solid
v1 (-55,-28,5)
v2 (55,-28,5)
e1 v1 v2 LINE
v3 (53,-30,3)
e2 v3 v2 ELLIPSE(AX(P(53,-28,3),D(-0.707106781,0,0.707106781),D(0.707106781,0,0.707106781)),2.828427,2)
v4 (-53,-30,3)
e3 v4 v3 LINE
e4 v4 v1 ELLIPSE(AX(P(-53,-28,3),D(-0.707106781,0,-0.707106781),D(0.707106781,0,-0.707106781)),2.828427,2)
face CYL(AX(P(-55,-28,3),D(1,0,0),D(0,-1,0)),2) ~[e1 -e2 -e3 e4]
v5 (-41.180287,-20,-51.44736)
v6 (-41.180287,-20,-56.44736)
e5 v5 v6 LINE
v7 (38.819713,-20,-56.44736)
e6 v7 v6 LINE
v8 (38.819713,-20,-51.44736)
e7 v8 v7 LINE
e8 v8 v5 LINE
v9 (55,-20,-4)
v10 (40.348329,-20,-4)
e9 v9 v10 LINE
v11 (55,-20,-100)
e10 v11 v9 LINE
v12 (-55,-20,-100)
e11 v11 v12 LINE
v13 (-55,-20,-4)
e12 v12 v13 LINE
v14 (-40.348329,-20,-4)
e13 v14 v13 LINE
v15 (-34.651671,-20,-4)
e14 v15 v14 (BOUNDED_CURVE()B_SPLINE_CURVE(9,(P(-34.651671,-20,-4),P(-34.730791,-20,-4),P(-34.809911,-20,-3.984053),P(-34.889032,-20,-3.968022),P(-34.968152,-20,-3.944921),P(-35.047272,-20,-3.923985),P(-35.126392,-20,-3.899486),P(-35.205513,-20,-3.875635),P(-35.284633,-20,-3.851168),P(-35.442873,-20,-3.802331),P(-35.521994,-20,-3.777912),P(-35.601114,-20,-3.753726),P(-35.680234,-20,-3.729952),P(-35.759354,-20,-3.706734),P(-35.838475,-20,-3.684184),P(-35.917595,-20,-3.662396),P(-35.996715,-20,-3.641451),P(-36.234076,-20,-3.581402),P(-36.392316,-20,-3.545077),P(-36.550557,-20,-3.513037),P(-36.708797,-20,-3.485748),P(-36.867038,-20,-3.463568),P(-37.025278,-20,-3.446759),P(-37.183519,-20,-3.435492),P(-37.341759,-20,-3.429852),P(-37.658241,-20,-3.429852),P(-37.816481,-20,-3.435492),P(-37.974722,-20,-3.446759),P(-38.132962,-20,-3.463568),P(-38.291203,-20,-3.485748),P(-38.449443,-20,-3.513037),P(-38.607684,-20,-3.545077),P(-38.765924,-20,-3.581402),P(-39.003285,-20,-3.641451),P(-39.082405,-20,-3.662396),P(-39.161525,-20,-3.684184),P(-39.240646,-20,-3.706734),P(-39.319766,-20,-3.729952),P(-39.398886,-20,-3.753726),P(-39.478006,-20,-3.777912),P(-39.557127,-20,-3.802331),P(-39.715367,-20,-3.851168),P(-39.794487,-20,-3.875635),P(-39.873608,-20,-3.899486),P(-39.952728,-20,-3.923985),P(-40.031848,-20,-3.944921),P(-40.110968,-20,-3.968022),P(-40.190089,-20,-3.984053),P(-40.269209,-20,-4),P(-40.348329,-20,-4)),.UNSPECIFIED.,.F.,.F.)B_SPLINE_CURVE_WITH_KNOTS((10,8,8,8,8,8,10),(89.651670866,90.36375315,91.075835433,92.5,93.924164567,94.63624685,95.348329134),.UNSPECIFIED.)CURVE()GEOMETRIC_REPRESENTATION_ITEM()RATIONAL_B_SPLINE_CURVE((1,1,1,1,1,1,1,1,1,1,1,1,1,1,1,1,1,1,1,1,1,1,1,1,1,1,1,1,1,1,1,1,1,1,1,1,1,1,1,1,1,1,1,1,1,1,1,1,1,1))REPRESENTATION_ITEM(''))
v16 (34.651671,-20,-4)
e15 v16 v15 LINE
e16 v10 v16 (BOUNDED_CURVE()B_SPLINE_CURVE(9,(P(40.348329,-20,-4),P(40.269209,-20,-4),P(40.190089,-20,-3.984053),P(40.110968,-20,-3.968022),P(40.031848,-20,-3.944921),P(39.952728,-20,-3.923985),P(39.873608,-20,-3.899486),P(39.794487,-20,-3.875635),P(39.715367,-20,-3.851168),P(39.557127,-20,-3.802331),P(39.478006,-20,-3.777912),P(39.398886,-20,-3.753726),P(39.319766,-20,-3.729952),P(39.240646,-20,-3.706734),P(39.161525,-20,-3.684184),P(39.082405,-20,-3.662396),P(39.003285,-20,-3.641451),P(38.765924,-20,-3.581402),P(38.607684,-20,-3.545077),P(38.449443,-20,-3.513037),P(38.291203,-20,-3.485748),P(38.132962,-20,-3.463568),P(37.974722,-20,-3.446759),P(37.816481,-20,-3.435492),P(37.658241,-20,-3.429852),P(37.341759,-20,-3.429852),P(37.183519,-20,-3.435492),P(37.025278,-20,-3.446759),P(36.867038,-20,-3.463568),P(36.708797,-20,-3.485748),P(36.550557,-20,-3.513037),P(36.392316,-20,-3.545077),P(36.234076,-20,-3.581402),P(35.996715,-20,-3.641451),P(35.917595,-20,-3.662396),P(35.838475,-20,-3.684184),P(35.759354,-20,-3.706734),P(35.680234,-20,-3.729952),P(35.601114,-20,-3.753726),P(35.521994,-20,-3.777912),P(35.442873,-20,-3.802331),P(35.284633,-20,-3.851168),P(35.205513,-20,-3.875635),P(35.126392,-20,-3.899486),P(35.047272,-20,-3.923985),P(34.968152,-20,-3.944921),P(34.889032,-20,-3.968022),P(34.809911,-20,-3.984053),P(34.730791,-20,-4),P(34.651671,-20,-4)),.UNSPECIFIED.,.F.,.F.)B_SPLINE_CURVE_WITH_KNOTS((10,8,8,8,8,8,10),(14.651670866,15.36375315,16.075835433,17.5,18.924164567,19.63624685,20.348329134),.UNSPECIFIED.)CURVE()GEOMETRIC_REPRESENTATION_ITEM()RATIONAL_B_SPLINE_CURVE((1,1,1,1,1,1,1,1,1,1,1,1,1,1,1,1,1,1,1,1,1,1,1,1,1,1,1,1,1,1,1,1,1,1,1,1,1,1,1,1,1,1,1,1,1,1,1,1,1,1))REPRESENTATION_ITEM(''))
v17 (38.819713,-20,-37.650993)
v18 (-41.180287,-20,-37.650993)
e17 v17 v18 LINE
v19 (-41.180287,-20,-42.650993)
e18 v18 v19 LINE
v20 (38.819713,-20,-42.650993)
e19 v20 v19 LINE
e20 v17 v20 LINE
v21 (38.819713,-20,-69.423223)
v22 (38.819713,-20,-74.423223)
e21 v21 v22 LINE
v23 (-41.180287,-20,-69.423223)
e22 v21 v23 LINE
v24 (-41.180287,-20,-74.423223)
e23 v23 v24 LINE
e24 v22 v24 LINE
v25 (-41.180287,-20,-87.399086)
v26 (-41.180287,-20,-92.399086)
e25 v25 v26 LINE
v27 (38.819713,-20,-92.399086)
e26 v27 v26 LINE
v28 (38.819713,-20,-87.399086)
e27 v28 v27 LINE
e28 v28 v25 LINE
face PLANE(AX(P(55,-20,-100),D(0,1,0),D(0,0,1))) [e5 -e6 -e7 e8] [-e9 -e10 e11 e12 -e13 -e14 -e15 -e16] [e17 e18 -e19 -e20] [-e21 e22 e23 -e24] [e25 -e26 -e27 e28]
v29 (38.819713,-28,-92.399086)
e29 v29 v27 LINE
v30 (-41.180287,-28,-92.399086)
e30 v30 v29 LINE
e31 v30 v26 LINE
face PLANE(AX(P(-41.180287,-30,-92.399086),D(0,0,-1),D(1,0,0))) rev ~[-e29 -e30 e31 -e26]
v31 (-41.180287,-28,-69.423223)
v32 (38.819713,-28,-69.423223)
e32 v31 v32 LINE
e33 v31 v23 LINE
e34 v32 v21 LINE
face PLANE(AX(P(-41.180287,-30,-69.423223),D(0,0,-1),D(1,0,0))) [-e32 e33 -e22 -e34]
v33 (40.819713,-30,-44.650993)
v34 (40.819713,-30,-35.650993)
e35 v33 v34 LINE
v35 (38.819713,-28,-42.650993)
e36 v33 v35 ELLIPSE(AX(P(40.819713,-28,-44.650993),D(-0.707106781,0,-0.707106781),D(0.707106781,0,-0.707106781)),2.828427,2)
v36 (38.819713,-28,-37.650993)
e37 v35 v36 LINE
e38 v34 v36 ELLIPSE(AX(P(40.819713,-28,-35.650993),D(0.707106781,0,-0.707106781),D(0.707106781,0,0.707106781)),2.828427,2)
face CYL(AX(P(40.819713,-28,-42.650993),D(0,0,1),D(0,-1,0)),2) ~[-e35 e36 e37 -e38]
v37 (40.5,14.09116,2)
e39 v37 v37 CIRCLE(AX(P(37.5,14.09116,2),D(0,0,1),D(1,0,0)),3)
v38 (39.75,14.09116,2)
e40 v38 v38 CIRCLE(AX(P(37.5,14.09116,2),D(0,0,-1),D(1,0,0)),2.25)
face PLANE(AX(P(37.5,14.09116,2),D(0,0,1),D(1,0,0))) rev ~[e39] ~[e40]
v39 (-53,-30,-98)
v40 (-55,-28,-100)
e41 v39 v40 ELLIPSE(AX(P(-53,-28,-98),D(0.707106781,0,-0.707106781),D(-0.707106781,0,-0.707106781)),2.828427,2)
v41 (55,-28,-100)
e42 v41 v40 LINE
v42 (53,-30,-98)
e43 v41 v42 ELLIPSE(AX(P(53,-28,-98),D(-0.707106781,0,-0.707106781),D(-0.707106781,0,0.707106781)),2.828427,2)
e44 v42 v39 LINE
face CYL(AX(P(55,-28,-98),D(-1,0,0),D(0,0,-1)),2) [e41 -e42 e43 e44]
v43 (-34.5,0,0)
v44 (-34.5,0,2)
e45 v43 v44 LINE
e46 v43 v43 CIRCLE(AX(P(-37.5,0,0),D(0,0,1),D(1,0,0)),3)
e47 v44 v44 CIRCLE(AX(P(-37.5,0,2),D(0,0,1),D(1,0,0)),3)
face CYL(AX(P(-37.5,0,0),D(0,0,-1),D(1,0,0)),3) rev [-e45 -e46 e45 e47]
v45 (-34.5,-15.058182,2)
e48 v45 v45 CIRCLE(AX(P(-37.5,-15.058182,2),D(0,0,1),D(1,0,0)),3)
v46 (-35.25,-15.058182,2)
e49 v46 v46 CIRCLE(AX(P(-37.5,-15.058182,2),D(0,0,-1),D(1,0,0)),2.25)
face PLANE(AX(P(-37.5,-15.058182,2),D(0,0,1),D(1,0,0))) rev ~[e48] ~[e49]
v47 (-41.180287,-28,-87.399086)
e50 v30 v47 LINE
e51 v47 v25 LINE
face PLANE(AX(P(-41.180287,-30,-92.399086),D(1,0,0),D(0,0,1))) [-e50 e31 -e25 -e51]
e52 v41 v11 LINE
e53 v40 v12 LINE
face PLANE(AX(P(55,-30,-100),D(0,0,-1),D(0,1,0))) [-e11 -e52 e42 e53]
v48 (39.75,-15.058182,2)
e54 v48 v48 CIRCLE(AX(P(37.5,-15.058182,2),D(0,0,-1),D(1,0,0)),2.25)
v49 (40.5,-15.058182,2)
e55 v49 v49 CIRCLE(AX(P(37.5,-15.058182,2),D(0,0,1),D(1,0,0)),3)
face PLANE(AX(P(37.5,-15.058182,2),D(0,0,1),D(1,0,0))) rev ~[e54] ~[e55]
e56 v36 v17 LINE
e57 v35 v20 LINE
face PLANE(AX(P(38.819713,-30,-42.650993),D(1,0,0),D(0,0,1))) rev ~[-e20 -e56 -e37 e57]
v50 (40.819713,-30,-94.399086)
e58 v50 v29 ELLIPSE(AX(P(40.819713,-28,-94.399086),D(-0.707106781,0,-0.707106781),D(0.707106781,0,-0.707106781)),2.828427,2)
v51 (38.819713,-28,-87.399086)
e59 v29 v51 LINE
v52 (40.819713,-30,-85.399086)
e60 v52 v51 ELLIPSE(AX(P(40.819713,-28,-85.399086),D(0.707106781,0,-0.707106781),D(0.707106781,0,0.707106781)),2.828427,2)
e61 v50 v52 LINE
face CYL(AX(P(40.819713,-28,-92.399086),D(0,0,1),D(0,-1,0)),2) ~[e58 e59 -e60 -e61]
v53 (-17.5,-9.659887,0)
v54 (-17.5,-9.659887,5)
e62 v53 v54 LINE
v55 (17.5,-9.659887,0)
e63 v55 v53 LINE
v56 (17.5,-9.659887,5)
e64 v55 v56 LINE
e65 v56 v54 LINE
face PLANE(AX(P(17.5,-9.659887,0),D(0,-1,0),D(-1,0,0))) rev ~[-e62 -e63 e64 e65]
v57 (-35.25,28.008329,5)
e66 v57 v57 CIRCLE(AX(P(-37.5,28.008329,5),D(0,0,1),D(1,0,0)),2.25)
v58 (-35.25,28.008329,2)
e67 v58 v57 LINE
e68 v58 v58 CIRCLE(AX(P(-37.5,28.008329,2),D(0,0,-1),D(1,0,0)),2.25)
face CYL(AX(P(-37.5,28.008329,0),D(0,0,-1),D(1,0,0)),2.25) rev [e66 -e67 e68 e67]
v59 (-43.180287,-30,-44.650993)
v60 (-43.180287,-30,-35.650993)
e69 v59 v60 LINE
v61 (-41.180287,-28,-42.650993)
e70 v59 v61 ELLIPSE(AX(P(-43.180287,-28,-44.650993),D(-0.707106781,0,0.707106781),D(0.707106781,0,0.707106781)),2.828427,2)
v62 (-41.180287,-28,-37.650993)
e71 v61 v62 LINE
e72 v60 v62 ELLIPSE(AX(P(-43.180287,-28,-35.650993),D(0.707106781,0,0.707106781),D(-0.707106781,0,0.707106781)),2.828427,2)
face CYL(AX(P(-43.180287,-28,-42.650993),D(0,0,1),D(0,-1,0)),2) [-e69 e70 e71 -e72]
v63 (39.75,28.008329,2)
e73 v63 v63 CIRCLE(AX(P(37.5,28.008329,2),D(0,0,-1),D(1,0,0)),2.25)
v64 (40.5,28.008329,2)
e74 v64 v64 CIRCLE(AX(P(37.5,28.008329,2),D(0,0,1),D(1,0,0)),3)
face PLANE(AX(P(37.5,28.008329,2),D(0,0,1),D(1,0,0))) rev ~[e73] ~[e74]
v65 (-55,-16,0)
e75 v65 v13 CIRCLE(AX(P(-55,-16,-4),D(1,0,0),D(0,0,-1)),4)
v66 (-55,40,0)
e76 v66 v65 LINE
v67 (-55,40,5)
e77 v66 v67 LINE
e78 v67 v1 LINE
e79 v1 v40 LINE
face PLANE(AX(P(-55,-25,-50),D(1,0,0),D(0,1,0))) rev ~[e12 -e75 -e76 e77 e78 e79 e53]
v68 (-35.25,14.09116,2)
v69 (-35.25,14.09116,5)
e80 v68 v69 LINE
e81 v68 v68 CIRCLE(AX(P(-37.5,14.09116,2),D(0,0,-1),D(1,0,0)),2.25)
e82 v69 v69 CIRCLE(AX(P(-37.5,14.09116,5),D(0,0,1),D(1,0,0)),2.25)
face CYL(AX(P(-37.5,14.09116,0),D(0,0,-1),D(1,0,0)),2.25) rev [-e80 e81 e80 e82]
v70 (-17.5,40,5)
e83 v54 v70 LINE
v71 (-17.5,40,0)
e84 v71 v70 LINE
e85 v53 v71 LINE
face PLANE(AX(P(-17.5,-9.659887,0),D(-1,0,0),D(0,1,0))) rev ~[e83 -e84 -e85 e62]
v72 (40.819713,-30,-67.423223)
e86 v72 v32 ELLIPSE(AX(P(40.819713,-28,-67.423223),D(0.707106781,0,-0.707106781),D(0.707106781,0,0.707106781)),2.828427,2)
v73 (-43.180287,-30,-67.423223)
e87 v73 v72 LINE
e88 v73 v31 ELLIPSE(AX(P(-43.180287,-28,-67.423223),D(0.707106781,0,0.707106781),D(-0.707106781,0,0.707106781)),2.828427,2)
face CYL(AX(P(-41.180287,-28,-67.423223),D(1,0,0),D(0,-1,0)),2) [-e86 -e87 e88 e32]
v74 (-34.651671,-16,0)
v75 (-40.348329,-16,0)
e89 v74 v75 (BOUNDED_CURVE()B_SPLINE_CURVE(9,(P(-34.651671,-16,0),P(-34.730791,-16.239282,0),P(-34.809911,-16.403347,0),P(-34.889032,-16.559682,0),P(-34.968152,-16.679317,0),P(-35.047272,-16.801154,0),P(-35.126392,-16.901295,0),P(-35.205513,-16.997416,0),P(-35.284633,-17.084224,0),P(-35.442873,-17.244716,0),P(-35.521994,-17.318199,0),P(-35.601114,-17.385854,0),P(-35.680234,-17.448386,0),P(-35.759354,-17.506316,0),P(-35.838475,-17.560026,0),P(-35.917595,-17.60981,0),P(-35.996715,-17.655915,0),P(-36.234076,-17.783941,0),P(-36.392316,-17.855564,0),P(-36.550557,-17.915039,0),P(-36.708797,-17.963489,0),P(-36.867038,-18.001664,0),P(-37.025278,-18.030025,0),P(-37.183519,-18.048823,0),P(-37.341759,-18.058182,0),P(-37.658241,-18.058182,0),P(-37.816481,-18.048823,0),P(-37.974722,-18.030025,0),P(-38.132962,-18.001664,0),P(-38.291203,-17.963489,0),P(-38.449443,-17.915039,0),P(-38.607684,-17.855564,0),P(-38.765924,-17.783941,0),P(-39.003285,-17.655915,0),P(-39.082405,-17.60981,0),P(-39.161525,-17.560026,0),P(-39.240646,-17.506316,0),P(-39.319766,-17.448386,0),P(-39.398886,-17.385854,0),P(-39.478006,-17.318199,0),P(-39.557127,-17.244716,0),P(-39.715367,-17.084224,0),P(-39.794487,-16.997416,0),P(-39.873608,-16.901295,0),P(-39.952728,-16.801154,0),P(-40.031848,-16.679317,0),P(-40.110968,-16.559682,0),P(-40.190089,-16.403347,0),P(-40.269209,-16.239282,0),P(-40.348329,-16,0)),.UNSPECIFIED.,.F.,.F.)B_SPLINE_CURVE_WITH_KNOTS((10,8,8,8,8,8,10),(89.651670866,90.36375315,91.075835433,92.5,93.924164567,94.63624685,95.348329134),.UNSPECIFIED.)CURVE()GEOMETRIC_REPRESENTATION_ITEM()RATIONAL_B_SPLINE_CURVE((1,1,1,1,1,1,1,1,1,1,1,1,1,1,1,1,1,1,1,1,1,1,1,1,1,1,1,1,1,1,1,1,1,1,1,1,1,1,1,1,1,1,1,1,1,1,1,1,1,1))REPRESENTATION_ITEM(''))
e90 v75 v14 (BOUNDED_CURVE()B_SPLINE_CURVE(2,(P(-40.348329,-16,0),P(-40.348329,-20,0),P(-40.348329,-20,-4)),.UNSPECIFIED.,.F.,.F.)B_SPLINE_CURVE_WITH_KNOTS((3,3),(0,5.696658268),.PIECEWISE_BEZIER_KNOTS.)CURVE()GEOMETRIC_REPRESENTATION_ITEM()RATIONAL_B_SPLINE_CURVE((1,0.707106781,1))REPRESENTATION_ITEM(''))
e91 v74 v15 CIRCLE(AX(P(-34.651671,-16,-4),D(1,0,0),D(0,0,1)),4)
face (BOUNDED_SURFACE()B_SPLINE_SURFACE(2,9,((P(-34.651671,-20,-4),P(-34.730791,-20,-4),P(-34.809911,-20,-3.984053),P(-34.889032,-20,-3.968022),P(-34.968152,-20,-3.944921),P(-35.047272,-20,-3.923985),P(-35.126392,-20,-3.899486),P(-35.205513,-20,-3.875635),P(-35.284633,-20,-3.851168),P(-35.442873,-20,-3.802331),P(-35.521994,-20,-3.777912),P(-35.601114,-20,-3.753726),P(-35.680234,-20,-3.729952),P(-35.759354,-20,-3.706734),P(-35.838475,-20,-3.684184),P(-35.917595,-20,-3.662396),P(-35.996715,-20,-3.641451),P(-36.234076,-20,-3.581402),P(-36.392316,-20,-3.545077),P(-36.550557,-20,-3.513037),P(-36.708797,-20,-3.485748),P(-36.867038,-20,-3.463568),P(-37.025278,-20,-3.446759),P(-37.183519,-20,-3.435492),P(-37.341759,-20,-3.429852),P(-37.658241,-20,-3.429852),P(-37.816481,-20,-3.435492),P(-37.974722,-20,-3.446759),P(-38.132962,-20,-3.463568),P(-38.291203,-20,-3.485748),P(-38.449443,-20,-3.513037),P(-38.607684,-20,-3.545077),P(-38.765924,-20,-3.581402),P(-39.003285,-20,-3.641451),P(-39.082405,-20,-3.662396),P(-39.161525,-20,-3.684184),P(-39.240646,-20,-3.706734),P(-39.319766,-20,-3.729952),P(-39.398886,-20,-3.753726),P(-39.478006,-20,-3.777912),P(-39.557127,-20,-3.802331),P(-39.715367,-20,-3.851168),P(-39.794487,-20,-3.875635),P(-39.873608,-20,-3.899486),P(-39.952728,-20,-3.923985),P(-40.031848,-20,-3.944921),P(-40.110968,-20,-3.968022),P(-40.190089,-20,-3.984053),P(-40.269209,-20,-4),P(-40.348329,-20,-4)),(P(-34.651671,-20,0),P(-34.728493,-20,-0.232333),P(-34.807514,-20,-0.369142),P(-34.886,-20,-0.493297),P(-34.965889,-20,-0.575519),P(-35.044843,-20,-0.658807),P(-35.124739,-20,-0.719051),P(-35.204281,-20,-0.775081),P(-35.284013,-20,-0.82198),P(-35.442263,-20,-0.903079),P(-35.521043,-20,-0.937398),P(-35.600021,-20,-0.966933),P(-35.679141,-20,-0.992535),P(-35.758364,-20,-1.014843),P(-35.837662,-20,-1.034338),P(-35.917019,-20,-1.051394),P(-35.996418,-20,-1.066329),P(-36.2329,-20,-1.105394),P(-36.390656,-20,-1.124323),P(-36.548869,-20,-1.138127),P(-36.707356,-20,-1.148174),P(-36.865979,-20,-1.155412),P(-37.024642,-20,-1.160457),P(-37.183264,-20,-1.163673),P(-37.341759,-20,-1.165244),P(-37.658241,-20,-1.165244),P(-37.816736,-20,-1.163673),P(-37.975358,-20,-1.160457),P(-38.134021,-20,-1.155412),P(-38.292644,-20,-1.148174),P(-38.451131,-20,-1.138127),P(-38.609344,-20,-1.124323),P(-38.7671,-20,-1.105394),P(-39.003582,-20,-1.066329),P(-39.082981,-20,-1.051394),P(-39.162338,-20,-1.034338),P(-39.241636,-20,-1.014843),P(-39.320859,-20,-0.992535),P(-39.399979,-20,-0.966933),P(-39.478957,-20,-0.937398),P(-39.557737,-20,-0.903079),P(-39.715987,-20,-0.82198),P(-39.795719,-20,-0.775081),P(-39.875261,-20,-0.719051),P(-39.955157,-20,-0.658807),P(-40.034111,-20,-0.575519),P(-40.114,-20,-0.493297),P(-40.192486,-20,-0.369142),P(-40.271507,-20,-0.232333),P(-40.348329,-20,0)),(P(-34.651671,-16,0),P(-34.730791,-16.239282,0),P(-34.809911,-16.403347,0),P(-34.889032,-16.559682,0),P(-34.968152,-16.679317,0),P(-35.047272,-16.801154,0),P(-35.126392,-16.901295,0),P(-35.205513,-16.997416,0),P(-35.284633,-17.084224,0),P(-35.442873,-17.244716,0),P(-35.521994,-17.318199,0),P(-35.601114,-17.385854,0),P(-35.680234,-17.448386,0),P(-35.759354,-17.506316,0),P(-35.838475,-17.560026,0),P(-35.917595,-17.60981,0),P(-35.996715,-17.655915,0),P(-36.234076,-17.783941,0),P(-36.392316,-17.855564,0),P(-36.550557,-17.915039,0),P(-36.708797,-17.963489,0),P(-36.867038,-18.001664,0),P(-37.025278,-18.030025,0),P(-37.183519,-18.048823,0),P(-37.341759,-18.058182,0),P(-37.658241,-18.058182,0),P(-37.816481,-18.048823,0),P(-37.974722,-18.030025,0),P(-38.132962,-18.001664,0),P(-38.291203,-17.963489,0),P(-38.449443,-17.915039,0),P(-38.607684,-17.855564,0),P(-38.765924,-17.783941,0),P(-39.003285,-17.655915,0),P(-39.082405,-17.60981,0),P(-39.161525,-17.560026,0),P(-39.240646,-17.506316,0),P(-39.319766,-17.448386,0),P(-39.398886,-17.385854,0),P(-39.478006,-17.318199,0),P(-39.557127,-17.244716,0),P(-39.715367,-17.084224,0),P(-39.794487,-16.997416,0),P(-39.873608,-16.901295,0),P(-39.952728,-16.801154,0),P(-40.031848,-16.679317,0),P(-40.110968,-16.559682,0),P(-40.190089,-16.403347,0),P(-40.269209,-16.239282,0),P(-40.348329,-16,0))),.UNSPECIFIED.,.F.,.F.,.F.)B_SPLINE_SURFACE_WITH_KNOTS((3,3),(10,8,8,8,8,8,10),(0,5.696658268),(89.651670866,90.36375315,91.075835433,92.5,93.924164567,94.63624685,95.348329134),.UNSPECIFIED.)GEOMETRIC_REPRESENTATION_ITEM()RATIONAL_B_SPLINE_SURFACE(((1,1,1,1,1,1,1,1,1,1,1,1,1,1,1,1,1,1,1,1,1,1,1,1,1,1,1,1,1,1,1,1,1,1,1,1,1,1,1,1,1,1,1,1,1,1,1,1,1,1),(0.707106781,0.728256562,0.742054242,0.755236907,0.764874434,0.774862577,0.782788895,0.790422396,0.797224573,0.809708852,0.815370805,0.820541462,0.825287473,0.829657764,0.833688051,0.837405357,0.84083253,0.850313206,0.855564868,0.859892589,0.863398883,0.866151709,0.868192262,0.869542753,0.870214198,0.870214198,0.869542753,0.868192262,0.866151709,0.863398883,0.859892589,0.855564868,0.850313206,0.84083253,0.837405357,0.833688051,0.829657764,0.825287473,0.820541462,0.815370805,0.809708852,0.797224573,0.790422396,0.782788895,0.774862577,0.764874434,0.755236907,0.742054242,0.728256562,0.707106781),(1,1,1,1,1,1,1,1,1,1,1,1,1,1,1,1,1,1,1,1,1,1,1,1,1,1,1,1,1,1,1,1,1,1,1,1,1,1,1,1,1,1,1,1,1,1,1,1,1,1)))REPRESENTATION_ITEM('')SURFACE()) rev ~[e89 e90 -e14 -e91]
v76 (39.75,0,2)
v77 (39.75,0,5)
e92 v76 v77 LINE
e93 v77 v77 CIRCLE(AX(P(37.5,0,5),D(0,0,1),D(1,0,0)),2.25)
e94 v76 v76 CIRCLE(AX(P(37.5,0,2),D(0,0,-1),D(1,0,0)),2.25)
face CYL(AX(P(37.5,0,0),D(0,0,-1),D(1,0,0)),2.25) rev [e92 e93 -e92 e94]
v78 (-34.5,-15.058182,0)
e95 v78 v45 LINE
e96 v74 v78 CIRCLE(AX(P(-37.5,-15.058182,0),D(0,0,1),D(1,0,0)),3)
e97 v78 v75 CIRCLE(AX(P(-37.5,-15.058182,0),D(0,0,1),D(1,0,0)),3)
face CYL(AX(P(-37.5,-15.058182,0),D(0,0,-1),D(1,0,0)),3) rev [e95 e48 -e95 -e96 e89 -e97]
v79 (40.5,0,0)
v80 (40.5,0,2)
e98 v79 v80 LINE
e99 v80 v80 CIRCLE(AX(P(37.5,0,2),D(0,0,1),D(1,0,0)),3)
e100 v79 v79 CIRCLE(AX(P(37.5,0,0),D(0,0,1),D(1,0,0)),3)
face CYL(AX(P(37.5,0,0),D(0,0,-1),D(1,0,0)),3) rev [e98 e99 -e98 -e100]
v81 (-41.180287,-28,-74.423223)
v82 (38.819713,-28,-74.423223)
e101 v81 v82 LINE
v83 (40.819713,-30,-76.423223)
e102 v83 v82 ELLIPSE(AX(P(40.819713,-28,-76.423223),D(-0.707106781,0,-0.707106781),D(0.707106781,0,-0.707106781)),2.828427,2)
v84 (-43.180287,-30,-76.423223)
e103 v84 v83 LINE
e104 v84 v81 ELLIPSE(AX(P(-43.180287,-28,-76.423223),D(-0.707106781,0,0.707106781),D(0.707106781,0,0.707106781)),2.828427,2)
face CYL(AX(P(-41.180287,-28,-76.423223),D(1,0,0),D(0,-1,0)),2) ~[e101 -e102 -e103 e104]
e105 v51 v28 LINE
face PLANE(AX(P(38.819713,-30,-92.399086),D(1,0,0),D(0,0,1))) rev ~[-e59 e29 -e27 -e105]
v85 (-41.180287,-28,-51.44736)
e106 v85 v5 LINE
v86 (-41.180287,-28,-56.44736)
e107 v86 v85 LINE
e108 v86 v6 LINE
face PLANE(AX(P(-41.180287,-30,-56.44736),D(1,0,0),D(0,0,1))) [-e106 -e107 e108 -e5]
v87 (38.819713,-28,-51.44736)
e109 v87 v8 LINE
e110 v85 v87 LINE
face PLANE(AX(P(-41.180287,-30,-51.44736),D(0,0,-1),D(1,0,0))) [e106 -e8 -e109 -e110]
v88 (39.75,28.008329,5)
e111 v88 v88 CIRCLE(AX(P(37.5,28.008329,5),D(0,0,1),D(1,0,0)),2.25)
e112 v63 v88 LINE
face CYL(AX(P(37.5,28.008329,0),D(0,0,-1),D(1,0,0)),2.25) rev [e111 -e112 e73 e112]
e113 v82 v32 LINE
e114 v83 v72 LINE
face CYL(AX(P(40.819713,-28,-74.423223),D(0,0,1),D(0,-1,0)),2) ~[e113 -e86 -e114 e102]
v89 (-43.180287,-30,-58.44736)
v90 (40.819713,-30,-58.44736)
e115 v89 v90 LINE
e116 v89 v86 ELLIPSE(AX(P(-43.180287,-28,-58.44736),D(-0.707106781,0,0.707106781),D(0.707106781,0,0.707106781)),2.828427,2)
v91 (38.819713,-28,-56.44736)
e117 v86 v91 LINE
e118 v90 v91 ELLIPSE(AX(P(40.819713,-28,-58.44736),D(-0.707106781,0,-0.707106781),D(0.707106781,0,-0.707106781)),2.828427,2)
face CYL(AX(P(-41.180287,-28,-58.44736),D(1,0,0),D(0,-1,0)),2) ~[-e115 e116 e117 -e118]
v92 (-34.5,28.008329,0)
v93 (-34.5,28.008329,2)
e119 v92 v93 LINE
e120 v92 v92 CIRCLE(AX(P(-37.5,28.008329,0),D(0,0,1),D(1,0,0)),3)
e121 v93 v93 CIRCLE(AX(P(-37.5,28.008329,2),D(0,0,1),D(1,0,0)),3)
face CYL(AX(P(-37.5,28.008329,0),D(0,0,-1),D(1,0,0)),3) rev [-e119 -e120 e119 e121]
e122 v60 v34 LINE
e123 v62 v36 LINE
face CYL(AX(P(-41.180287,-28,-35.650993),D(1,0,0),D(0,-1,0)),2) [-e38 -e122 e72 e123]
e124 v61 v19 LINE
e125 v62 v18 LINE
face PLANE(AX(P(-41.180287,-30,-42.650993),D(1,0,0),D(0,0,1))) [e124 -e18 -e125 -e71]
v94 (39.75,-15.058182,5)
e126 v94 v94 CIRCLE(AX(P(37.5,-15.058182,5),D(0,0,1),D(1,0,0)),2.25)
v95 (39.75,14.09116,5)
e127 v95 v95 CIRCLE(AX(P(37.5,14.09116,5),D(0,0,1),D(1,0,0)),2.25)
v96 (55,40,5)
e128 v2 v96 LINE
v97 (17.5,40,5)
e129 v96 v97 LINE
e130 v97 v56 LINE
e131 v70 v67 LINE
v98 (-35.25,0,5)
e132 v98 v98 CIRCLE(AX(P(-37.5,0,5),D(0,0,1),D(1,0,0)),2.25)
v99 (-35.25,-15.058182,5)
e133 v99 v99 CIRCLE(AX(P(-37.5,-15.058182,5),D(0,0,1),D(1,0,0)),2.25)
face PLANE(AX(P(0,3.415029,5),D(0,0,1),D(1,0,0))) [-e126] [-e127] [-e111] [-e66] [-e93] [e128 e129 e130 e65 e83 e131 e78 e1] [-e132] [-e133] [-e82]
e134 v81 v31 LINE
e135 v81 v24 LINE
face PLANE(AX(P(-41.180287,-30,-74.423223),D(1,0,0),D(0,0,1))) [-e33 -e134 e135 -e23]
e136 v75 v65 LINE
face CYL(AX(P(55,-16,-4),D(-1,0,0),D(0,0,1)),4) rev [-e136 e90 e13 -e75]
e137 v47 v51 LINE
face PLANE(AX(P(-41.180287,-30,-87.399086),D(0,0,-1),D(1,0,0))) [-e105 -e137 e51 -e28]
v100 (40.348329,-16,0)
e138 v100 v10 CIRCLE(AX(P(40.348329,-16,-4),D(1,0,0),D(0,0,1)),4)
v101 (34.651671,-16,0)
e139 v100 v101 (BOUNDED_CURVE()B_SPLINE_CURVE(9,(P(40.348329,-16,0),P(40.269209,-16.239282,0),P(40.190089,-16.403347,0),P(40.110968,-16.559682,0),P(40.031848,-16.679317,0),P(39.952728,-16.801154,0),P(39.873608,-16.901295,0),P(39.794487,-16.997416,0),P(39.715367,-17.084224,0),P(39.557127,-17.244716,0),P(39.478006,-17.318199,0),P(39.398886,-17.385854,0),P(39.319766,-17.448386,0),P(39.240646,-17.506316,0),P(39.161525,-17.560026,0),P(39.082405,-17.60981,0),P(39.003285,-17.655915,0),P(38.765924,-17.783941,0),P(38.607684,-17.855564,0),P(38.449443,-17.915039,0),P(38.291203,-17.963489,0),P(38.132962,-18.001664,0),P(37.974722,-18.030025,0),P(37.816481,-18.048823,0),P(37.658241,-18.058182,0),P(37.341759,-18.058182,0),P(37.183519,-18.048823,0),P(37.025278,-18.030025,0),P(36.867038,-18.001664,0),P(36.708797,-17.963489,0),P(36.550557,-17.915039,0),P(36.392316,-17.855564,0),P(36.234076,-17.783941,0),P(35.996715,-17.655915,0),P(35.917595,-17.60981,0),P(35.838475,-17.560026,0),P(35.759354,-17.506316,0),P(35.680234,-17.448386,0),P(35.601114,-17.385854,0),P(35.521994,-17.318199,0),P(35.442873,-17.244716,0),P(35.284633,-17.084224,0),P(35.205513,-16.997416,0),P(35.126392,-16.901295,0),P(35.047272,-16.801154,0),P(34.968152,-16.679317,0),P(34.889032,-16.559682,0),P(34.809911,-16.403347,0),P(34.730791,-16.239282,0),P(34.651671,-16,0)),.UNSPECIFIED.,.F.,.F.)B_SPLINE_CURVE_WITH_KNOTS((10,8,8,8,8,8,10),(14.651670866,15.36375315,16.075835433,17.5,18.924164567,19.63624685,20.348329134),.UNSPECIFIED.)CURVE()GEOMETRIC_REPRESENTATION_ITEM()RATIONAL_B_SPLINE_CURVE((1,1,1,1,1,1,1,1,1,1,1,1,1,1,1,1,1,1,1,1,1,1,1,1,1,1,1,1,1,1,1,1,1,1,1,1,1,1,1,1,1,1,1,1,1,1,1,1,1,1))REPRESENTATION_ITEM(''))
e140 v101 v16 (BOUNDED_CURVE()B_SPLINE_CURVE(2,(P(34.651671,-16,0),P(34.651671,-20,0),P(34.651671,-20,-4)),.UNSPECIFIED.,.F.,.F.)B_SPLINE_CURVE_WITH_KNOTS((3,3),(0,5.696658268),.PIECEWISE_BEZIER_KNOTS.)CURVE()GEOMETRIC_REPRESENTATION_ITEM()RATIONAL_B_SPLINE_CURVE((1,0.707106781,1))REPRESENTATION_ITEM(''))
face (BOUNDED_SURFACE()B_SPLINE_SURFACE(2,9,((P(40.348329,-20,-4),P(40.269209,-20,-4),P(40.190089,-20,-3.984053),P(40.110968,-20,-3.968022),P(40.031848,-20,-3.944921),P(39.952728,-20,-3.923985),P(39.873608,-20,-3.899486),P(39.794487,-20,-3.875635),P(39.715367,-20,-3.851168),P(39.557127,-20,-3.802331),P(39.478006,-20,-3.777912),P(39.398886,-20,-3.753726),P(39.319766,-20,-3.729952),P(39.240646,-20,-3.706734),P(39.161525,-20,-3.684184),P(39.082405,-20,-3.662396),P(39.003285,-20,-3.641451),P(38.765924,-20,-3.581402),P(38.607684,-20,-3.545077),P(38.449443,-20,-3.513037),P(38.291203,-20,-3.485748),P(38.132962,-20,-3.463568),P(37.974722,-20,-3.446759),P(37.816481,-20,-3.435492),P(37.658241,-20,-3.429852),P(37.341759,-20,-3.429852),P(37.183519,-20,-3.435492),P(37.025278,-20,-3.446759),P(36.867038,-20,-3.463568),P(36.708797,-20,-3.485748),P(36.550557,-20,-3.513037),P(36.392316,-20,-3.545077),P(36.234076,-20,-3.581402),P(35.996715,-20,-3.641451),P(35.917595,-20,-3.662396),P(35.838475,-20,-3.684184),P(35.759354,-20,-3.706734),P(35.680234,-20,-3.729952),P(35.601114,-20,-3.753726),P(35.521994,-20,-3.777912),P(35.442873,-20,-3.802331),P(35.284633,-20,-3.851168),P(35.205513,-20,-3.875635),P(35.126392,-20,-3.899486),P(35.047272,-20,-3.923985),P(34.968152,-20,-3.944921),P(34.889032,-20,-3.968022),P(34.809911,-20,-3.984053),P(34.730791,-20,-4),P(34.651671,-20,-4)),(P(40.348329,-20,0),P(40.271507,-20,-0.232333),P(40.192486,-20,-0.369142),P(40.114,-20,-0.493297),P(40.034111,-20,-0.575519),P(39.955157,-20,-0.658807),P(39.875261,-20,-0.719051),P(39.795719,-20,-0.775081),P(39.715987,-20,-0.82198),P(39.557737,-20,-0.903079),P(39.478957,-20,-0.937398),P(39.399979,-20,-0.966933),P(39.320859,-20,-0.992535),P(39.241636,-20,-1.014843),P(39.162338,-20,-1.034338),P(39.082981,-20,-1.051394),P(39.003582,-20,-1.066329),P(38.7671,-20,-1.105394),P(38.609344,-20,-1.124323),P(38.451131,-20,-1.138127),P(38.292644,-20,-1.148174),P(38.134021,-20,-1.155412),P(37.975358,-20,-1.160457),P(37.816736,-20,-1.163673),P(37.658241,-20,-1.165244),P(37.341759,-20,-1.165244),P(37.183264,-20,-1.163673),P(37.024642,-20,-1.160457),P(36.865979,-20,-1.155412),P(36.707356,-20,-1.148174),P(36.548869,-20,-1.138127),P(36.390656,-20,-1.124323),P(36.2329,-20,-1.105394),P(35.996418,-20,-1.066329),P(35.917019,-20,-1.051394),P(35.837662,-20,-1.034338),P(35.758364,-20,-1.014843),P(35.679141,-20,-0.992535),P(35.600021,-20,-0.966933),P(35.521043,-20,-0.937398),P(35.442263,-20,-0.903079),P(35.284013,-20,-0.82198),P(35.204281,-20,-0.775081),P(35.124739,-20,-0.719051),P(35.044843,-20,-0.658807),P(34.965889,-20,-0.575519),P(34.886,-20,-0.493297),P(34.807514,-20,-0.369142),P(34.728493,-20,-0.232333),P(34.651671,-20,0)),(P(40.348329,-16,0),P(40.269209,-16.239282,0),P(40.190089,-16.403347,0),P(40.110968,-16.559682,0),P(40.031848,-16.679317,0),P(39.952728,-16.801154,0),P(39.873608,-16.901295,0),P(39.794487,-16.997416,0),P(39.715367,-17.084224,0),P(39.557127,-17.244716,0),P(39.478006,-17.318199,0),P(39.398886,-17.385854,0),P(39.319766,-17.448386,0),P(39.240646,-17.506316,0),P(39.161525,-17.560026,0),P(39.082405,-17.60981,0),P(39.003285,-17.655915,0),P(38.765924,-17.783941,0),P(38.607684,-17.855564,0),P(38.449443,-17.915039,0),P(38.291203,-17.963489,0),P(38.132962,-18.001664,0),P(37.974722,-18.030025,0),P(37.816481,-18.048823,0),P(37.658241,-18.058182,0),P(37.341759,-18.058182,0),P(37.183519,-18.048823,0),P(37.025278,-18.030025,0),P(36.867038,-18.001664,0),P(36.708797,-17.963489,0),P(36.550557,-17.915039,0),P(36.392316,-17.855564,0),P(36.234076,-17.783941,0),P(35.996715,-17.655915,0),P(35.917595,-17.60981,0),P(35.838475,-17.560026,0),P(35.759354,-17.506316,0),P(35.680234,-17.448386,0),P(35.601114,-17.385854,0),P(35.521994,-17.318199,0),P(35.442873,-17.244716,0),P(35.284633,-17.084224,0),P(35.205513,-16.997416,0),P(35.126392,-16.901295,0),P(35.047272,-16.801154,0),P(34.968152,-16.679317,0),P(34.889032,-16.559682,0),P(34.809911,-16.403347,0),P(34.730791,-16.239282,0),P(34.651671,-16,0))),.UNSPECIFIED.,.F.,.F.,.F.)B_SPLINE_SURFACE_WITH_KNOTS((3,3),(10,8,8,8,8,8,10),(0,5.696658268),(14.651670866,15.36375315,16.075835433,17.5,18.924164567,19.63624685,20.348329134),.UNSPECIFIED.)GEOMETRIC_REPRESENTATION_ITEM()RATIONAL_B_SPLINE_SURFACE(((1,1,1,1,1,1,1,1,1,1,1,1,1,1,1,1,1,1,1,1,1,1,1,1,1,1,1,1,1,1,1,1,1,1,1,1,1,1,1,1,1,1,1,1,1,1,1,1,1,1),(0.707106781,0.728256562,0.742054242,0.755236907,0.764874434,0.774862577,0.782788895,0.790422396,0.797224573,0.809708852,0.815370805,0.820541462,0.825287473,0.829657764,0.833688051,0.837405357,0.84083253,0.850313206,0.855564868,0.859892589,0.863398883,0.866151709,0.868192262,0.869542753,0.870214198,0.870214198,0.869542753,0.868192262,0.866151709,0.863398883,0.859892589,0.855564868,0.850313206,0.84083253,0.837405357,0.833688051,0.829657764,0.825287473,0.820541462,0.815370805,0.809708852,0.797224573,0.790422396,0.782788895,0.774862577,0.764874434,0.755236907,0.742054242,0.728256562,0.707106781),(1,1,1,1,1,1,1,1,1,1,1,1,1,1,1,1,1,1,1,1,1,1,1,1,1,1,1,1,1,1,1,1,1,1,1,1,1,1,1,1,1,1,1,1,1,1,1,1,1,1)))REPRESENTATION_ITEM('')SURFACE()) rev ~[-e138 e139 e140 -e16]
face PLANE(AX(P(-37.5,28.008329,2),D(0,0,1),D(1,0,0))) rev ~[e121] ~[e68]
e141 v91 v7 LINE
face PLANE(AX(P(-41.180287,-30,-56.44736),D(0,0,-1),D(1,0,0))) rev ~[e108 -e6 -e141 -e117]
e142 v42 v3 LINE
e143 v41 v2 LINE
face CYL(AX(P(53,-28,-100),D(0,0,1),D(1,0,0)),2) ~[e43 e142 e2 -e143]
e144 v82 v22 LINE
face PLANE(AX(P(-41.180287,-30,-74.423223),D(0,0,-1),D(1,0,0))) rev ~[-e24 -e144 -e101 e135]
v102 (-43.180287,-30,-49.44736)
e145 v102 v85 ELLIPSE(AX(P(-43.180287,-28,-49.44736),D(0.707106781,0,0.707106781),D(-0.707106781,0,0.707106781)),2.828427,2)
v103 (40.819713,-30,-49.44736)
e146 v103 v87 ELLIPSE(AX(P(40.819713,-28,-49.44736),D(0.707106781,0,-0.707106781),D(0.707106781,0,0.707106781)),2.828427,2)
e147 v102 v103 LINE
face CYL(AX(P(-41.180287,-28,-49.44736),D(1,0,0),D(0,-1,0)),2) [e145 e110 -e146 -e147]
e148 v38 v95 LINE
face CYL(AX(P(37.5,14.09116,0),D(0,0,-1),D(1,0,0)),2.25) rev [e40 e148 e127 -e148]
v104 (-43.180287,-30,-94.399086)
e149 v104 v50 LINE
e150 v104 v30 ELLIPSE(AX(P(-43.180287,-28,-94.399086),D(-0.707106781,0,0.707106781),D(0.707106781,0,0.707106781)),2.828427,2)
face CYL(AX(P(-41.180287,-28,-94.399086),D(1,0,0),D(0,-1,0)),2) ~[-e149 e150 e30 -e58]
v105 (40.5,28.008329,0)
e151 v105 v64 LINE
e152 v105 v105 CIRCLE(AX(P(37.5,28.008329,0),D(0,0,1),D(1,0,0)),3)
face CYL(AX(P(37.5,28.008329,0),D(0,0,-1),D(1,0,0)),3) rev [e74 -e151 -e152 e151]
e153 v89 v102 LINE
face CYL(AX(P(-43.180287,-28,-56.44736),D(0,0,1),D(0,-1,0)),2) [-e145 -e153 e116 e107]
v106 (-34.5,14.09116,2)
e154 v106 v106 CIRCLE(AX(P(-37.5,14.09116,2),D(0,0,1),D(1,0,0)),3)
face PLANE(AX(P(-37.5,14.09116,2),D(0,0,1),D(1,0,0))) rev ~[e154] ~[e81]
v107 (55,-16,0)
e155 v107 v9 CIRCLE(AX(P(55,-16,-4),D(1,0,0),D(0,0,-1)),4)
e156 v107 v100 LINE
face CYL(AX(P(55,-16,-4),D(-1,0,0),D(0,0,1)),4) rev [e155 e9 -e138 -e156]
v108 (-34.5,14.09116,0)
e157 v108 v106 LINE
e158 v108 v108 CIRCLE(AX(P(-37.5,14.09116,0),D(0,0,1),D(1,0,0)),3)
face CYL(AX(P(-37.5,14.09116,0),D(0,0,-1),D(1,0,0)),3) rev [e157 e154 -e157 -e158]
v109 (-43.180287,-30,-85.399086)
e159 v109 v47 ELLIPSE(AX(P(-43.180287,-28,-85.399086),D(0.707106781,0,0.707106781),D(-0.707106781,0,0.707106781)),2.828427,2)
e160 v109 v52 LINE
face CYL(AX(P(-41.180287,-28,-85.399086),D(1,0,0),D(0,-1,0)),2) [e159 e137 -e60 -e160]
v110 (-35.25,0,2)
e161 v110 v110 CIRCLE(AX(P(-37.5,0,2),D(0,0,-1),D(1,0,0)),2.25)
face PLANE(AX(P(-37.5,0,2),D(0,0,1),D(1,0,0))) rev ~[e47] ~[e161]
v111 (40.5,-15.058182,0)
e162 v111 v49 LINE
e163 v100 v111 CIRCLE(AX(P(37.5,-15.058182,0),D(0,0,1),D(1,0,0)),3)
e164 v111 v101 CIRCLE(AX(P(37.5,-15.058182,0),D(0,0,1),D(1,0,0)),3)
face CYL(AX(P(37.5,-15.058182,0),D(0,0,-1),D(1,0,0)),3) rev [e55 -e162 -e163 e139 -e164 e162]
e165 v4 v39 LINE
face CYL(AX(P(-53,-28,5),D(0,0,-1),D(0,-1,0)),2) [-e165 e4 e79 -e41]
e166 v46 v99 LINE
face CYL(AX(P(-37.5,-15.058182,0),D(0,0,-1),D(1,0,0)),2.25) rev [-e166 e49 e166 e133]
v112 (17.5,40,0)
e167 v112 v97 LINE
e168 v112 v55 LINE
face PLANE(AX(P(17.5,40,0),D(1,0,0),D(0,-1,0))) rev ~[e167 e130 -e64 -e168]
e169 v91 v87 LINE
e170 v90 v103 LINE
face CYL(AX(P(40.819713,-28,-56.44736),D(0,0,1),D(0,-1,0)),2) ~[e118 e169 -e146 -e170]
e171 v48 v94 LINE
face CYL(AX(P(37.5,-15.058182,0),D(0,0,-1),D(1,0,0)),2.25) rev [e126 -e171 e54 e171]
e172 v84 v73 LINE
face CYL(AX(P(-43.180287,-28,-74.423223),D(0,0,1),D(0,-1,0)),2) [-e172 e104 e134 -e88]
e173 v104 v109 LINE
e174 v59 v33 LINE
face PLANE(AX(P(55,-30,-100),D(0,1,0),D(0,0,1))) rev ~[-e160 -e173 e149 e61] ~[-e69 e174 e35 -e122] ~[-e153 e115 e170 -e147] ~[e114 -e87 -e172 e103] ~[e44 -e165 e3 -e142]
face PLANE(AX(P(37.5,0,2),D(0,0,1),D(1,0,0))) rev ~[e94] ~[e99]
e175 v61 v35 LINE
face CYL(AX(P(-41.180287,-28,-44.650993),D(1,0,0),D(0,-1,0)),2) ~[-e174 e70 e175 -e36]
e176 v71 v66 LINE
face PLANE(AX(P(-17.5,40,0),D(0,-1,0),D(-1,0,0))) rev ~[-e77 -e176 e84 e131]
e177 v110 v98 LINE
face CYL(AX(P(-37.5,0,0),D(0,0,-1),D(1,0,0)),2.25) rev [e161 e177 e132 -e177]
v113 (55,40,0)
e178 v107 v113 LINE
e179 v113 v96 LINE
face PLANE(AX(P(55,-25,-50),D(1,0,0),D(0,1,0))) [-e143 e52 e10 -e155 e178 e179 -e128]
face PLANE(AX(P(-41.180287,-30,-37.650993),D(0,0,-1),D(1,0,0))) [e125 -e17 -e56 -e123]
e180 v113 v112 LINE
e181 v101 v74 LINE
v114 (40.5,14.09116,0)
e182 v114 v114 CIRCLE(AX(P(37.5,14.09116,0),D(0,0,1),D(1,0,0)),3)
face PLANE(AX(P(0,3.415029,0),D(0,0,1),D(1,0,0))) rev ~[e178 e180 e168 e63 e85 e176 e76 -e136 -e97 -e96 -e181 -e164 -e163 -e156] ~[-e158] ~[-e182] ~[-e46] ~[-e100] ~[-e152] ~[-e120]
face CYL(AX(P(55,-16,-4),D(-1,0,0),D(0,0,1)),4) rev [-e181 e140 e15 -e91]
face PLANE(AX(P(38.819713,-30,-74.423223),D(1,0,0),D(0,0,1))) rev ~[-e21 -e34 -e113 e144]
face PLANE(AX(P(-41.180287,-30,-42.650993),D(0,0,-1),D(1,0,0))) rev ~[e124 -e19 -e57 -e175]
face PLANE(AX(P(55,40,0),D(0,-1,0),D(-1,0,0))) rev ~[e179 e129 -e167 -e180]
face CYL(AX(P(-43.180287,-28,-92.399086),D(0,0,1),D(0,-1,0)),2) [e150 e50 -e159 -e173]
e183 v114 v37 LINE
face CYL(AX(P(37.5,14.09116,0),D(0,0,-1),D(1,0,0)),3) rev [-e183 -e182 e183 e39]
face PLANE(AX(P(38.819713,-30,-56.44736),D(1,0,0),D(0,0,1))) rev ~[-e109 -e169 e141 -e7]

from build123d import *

# Parameters (mm, degrees)
SKETCH_R        = 2.25
PAD_DEPTH       = 5
SKETCH001_R     = 3
POCKET_DEPTH    = 2
SKETCH002_W     = 10
SKETCH002_H     = 100
PAD001_DEPTH    = 110
FILLET_R        = 4
SKETCH003_W     = 80
SKETCH003_H     = 5
POCKET001_DEPTH = 70.001
FILLET001_R     = 2


with BuildPart() as part:
    # Sketch (on XY_Plane of Origin) → Pad (new body)
    with BuildSketch(Plane.XY):
        Polygon((-55, 40), (-55, -30), (55, -30), (55, 40), (17.5, 40), (17.5, -9.659887), (-17.5, -9.659887), (-17.5, 40), align=None)
        with Locations((-37.5, 0)):
            Circle(SKETCH_R, mode=Mode.SUBTRACT)
        with Locations((37.5, 0)):
            Circle(SKETCH_R, mode=Mode.SUBTRACT)
        with Locations((-37.5, 14.09116)):
            Circle(SKETCH_R, mode=Mode.SUBTRACT)
        with Locations((37.5, 14.09116)):
            Circle(SKETCH_R, mode=Mode.SUBTRACT)
        with Locations((-37.5, -15.058182)):
            Circle(SKETCH_R, mode=Mode.SUBTRACT)
        with Locations((37.5, -15.058182)):
            Circle(SKETCH_R, mode=Mode.SUBTRACT)
        with Locations((-37.5, 28.008329)):
            Circle(SKETCH_R, mode=Mode.SUBTRACT)
        with Locations((37.5, 28.008329)):
            Circle(SKETCH_R, mode=Mode.SUBTRACT)
    extrude(amount=PAD_DEPTH)

    # Sketch001 (on XY_Plane of Origin) → Pocket (cut)
    with BuildSketch(Plane.XY):
        with Locations((-37.5, 14.09116)):
            Circle(SKETCH001_R)
        with Locations((-37.5, 0)):
            Circle(SKETCH001_R)
        with Locations((-37.5, -15.058182)):
            Circle(SKETCH001_R)
        with Locations((37.5, 14.09116)):
            Circle(SKETCH001_R)
        with Locations((37.5, 0)):
            Circle(SKETCH001_R)
        with Locations((37.5, -15.058182)):
            Circle(SKETCH001_R)
        with Locations((-37.5, 28.008329)):
            Circle(SKETCH001_R)
        with Locations((37.5, 28.008329)):
            Circle(SKETCH001_R)
    extrude(amount=POCKET_DEPTH, mode=Mode.SUBTRACT)

    # Sketch002 (on Face7 of Pocket) → Pad001 (join)
    with BuildSketch(Plane.YZ.offset(55)):
        with Locations((-25, -50)):
            Rectangle(SKETCH002_W, SKETCH002_H)
    extrude(amount=-PAD001_DEPTH)

    # Fillet
    fillet_edges = [part.edges().sort_by_distance(p)[0] for p in [
        (0, -20, 0),
    ]]
    fillet(fillet_edges, radius=FILLET_R)

    # Sketch003 (on Face22 of Fillet) → Pocket001 (cut, through all)
    with BuildSketch(Plane.XZ.offset(30)):
        with Locations((-1.180287, -53.94736)):
            Rectangle(SKETCH003_W, SKETCH003_H)
        with Locations((-1.180287, -40.150993)):
            Rectangle(SKETCH003_W, SKETCH003_H)
        with Locations((-1.180287, -71.923223)):
            Rectangle(SKETCH003_W, SKETCH003_H)
        with Locations((-1.180287, -89.899086)):
            Rectangle(SKETCH003_W, SKETCH003_H)
    extrude(amount=-POCKET001_DEPTH, mode=Mode.SUBTRACT)

    # Fillet001
    fillet001_edges = [part.edges().sort_by_distance(p)[0] for p in [
        (-55, -30, -47.5),
        (0, -30, 5),
        (0, -30, -100),
        (55, -30, -47.5),
        (-41.180287, -30, -53.94736),
        (-1.180287, -30, -56.44736),
        (38.819713, -30, -53.94736),
        (-1.180287, -30, -51.44736),
        (-41.180287, -30, -40.150993),
        (-1.180287, -30, -42.650993),
        (38.819713, -30, -40.150993),
        (-1.180287, -30, -37.650993),
        (-41.180287, -30, -71.923223),
        (-1.180287, -30, -74.423223),
        (38.819713, -30, -71.923223),
        (-1.180287, -30, -69.423223),
        (-41.180287, -30, -89.899086),
        (-1.180287, -30, -92.399086),
        (38.819713, -30, -89.899086),
        (-1.180287, -30, -87.399086),
    ]]
    fillet(fillet001_edges, radius=FILLET001_R)


solid = part.part
